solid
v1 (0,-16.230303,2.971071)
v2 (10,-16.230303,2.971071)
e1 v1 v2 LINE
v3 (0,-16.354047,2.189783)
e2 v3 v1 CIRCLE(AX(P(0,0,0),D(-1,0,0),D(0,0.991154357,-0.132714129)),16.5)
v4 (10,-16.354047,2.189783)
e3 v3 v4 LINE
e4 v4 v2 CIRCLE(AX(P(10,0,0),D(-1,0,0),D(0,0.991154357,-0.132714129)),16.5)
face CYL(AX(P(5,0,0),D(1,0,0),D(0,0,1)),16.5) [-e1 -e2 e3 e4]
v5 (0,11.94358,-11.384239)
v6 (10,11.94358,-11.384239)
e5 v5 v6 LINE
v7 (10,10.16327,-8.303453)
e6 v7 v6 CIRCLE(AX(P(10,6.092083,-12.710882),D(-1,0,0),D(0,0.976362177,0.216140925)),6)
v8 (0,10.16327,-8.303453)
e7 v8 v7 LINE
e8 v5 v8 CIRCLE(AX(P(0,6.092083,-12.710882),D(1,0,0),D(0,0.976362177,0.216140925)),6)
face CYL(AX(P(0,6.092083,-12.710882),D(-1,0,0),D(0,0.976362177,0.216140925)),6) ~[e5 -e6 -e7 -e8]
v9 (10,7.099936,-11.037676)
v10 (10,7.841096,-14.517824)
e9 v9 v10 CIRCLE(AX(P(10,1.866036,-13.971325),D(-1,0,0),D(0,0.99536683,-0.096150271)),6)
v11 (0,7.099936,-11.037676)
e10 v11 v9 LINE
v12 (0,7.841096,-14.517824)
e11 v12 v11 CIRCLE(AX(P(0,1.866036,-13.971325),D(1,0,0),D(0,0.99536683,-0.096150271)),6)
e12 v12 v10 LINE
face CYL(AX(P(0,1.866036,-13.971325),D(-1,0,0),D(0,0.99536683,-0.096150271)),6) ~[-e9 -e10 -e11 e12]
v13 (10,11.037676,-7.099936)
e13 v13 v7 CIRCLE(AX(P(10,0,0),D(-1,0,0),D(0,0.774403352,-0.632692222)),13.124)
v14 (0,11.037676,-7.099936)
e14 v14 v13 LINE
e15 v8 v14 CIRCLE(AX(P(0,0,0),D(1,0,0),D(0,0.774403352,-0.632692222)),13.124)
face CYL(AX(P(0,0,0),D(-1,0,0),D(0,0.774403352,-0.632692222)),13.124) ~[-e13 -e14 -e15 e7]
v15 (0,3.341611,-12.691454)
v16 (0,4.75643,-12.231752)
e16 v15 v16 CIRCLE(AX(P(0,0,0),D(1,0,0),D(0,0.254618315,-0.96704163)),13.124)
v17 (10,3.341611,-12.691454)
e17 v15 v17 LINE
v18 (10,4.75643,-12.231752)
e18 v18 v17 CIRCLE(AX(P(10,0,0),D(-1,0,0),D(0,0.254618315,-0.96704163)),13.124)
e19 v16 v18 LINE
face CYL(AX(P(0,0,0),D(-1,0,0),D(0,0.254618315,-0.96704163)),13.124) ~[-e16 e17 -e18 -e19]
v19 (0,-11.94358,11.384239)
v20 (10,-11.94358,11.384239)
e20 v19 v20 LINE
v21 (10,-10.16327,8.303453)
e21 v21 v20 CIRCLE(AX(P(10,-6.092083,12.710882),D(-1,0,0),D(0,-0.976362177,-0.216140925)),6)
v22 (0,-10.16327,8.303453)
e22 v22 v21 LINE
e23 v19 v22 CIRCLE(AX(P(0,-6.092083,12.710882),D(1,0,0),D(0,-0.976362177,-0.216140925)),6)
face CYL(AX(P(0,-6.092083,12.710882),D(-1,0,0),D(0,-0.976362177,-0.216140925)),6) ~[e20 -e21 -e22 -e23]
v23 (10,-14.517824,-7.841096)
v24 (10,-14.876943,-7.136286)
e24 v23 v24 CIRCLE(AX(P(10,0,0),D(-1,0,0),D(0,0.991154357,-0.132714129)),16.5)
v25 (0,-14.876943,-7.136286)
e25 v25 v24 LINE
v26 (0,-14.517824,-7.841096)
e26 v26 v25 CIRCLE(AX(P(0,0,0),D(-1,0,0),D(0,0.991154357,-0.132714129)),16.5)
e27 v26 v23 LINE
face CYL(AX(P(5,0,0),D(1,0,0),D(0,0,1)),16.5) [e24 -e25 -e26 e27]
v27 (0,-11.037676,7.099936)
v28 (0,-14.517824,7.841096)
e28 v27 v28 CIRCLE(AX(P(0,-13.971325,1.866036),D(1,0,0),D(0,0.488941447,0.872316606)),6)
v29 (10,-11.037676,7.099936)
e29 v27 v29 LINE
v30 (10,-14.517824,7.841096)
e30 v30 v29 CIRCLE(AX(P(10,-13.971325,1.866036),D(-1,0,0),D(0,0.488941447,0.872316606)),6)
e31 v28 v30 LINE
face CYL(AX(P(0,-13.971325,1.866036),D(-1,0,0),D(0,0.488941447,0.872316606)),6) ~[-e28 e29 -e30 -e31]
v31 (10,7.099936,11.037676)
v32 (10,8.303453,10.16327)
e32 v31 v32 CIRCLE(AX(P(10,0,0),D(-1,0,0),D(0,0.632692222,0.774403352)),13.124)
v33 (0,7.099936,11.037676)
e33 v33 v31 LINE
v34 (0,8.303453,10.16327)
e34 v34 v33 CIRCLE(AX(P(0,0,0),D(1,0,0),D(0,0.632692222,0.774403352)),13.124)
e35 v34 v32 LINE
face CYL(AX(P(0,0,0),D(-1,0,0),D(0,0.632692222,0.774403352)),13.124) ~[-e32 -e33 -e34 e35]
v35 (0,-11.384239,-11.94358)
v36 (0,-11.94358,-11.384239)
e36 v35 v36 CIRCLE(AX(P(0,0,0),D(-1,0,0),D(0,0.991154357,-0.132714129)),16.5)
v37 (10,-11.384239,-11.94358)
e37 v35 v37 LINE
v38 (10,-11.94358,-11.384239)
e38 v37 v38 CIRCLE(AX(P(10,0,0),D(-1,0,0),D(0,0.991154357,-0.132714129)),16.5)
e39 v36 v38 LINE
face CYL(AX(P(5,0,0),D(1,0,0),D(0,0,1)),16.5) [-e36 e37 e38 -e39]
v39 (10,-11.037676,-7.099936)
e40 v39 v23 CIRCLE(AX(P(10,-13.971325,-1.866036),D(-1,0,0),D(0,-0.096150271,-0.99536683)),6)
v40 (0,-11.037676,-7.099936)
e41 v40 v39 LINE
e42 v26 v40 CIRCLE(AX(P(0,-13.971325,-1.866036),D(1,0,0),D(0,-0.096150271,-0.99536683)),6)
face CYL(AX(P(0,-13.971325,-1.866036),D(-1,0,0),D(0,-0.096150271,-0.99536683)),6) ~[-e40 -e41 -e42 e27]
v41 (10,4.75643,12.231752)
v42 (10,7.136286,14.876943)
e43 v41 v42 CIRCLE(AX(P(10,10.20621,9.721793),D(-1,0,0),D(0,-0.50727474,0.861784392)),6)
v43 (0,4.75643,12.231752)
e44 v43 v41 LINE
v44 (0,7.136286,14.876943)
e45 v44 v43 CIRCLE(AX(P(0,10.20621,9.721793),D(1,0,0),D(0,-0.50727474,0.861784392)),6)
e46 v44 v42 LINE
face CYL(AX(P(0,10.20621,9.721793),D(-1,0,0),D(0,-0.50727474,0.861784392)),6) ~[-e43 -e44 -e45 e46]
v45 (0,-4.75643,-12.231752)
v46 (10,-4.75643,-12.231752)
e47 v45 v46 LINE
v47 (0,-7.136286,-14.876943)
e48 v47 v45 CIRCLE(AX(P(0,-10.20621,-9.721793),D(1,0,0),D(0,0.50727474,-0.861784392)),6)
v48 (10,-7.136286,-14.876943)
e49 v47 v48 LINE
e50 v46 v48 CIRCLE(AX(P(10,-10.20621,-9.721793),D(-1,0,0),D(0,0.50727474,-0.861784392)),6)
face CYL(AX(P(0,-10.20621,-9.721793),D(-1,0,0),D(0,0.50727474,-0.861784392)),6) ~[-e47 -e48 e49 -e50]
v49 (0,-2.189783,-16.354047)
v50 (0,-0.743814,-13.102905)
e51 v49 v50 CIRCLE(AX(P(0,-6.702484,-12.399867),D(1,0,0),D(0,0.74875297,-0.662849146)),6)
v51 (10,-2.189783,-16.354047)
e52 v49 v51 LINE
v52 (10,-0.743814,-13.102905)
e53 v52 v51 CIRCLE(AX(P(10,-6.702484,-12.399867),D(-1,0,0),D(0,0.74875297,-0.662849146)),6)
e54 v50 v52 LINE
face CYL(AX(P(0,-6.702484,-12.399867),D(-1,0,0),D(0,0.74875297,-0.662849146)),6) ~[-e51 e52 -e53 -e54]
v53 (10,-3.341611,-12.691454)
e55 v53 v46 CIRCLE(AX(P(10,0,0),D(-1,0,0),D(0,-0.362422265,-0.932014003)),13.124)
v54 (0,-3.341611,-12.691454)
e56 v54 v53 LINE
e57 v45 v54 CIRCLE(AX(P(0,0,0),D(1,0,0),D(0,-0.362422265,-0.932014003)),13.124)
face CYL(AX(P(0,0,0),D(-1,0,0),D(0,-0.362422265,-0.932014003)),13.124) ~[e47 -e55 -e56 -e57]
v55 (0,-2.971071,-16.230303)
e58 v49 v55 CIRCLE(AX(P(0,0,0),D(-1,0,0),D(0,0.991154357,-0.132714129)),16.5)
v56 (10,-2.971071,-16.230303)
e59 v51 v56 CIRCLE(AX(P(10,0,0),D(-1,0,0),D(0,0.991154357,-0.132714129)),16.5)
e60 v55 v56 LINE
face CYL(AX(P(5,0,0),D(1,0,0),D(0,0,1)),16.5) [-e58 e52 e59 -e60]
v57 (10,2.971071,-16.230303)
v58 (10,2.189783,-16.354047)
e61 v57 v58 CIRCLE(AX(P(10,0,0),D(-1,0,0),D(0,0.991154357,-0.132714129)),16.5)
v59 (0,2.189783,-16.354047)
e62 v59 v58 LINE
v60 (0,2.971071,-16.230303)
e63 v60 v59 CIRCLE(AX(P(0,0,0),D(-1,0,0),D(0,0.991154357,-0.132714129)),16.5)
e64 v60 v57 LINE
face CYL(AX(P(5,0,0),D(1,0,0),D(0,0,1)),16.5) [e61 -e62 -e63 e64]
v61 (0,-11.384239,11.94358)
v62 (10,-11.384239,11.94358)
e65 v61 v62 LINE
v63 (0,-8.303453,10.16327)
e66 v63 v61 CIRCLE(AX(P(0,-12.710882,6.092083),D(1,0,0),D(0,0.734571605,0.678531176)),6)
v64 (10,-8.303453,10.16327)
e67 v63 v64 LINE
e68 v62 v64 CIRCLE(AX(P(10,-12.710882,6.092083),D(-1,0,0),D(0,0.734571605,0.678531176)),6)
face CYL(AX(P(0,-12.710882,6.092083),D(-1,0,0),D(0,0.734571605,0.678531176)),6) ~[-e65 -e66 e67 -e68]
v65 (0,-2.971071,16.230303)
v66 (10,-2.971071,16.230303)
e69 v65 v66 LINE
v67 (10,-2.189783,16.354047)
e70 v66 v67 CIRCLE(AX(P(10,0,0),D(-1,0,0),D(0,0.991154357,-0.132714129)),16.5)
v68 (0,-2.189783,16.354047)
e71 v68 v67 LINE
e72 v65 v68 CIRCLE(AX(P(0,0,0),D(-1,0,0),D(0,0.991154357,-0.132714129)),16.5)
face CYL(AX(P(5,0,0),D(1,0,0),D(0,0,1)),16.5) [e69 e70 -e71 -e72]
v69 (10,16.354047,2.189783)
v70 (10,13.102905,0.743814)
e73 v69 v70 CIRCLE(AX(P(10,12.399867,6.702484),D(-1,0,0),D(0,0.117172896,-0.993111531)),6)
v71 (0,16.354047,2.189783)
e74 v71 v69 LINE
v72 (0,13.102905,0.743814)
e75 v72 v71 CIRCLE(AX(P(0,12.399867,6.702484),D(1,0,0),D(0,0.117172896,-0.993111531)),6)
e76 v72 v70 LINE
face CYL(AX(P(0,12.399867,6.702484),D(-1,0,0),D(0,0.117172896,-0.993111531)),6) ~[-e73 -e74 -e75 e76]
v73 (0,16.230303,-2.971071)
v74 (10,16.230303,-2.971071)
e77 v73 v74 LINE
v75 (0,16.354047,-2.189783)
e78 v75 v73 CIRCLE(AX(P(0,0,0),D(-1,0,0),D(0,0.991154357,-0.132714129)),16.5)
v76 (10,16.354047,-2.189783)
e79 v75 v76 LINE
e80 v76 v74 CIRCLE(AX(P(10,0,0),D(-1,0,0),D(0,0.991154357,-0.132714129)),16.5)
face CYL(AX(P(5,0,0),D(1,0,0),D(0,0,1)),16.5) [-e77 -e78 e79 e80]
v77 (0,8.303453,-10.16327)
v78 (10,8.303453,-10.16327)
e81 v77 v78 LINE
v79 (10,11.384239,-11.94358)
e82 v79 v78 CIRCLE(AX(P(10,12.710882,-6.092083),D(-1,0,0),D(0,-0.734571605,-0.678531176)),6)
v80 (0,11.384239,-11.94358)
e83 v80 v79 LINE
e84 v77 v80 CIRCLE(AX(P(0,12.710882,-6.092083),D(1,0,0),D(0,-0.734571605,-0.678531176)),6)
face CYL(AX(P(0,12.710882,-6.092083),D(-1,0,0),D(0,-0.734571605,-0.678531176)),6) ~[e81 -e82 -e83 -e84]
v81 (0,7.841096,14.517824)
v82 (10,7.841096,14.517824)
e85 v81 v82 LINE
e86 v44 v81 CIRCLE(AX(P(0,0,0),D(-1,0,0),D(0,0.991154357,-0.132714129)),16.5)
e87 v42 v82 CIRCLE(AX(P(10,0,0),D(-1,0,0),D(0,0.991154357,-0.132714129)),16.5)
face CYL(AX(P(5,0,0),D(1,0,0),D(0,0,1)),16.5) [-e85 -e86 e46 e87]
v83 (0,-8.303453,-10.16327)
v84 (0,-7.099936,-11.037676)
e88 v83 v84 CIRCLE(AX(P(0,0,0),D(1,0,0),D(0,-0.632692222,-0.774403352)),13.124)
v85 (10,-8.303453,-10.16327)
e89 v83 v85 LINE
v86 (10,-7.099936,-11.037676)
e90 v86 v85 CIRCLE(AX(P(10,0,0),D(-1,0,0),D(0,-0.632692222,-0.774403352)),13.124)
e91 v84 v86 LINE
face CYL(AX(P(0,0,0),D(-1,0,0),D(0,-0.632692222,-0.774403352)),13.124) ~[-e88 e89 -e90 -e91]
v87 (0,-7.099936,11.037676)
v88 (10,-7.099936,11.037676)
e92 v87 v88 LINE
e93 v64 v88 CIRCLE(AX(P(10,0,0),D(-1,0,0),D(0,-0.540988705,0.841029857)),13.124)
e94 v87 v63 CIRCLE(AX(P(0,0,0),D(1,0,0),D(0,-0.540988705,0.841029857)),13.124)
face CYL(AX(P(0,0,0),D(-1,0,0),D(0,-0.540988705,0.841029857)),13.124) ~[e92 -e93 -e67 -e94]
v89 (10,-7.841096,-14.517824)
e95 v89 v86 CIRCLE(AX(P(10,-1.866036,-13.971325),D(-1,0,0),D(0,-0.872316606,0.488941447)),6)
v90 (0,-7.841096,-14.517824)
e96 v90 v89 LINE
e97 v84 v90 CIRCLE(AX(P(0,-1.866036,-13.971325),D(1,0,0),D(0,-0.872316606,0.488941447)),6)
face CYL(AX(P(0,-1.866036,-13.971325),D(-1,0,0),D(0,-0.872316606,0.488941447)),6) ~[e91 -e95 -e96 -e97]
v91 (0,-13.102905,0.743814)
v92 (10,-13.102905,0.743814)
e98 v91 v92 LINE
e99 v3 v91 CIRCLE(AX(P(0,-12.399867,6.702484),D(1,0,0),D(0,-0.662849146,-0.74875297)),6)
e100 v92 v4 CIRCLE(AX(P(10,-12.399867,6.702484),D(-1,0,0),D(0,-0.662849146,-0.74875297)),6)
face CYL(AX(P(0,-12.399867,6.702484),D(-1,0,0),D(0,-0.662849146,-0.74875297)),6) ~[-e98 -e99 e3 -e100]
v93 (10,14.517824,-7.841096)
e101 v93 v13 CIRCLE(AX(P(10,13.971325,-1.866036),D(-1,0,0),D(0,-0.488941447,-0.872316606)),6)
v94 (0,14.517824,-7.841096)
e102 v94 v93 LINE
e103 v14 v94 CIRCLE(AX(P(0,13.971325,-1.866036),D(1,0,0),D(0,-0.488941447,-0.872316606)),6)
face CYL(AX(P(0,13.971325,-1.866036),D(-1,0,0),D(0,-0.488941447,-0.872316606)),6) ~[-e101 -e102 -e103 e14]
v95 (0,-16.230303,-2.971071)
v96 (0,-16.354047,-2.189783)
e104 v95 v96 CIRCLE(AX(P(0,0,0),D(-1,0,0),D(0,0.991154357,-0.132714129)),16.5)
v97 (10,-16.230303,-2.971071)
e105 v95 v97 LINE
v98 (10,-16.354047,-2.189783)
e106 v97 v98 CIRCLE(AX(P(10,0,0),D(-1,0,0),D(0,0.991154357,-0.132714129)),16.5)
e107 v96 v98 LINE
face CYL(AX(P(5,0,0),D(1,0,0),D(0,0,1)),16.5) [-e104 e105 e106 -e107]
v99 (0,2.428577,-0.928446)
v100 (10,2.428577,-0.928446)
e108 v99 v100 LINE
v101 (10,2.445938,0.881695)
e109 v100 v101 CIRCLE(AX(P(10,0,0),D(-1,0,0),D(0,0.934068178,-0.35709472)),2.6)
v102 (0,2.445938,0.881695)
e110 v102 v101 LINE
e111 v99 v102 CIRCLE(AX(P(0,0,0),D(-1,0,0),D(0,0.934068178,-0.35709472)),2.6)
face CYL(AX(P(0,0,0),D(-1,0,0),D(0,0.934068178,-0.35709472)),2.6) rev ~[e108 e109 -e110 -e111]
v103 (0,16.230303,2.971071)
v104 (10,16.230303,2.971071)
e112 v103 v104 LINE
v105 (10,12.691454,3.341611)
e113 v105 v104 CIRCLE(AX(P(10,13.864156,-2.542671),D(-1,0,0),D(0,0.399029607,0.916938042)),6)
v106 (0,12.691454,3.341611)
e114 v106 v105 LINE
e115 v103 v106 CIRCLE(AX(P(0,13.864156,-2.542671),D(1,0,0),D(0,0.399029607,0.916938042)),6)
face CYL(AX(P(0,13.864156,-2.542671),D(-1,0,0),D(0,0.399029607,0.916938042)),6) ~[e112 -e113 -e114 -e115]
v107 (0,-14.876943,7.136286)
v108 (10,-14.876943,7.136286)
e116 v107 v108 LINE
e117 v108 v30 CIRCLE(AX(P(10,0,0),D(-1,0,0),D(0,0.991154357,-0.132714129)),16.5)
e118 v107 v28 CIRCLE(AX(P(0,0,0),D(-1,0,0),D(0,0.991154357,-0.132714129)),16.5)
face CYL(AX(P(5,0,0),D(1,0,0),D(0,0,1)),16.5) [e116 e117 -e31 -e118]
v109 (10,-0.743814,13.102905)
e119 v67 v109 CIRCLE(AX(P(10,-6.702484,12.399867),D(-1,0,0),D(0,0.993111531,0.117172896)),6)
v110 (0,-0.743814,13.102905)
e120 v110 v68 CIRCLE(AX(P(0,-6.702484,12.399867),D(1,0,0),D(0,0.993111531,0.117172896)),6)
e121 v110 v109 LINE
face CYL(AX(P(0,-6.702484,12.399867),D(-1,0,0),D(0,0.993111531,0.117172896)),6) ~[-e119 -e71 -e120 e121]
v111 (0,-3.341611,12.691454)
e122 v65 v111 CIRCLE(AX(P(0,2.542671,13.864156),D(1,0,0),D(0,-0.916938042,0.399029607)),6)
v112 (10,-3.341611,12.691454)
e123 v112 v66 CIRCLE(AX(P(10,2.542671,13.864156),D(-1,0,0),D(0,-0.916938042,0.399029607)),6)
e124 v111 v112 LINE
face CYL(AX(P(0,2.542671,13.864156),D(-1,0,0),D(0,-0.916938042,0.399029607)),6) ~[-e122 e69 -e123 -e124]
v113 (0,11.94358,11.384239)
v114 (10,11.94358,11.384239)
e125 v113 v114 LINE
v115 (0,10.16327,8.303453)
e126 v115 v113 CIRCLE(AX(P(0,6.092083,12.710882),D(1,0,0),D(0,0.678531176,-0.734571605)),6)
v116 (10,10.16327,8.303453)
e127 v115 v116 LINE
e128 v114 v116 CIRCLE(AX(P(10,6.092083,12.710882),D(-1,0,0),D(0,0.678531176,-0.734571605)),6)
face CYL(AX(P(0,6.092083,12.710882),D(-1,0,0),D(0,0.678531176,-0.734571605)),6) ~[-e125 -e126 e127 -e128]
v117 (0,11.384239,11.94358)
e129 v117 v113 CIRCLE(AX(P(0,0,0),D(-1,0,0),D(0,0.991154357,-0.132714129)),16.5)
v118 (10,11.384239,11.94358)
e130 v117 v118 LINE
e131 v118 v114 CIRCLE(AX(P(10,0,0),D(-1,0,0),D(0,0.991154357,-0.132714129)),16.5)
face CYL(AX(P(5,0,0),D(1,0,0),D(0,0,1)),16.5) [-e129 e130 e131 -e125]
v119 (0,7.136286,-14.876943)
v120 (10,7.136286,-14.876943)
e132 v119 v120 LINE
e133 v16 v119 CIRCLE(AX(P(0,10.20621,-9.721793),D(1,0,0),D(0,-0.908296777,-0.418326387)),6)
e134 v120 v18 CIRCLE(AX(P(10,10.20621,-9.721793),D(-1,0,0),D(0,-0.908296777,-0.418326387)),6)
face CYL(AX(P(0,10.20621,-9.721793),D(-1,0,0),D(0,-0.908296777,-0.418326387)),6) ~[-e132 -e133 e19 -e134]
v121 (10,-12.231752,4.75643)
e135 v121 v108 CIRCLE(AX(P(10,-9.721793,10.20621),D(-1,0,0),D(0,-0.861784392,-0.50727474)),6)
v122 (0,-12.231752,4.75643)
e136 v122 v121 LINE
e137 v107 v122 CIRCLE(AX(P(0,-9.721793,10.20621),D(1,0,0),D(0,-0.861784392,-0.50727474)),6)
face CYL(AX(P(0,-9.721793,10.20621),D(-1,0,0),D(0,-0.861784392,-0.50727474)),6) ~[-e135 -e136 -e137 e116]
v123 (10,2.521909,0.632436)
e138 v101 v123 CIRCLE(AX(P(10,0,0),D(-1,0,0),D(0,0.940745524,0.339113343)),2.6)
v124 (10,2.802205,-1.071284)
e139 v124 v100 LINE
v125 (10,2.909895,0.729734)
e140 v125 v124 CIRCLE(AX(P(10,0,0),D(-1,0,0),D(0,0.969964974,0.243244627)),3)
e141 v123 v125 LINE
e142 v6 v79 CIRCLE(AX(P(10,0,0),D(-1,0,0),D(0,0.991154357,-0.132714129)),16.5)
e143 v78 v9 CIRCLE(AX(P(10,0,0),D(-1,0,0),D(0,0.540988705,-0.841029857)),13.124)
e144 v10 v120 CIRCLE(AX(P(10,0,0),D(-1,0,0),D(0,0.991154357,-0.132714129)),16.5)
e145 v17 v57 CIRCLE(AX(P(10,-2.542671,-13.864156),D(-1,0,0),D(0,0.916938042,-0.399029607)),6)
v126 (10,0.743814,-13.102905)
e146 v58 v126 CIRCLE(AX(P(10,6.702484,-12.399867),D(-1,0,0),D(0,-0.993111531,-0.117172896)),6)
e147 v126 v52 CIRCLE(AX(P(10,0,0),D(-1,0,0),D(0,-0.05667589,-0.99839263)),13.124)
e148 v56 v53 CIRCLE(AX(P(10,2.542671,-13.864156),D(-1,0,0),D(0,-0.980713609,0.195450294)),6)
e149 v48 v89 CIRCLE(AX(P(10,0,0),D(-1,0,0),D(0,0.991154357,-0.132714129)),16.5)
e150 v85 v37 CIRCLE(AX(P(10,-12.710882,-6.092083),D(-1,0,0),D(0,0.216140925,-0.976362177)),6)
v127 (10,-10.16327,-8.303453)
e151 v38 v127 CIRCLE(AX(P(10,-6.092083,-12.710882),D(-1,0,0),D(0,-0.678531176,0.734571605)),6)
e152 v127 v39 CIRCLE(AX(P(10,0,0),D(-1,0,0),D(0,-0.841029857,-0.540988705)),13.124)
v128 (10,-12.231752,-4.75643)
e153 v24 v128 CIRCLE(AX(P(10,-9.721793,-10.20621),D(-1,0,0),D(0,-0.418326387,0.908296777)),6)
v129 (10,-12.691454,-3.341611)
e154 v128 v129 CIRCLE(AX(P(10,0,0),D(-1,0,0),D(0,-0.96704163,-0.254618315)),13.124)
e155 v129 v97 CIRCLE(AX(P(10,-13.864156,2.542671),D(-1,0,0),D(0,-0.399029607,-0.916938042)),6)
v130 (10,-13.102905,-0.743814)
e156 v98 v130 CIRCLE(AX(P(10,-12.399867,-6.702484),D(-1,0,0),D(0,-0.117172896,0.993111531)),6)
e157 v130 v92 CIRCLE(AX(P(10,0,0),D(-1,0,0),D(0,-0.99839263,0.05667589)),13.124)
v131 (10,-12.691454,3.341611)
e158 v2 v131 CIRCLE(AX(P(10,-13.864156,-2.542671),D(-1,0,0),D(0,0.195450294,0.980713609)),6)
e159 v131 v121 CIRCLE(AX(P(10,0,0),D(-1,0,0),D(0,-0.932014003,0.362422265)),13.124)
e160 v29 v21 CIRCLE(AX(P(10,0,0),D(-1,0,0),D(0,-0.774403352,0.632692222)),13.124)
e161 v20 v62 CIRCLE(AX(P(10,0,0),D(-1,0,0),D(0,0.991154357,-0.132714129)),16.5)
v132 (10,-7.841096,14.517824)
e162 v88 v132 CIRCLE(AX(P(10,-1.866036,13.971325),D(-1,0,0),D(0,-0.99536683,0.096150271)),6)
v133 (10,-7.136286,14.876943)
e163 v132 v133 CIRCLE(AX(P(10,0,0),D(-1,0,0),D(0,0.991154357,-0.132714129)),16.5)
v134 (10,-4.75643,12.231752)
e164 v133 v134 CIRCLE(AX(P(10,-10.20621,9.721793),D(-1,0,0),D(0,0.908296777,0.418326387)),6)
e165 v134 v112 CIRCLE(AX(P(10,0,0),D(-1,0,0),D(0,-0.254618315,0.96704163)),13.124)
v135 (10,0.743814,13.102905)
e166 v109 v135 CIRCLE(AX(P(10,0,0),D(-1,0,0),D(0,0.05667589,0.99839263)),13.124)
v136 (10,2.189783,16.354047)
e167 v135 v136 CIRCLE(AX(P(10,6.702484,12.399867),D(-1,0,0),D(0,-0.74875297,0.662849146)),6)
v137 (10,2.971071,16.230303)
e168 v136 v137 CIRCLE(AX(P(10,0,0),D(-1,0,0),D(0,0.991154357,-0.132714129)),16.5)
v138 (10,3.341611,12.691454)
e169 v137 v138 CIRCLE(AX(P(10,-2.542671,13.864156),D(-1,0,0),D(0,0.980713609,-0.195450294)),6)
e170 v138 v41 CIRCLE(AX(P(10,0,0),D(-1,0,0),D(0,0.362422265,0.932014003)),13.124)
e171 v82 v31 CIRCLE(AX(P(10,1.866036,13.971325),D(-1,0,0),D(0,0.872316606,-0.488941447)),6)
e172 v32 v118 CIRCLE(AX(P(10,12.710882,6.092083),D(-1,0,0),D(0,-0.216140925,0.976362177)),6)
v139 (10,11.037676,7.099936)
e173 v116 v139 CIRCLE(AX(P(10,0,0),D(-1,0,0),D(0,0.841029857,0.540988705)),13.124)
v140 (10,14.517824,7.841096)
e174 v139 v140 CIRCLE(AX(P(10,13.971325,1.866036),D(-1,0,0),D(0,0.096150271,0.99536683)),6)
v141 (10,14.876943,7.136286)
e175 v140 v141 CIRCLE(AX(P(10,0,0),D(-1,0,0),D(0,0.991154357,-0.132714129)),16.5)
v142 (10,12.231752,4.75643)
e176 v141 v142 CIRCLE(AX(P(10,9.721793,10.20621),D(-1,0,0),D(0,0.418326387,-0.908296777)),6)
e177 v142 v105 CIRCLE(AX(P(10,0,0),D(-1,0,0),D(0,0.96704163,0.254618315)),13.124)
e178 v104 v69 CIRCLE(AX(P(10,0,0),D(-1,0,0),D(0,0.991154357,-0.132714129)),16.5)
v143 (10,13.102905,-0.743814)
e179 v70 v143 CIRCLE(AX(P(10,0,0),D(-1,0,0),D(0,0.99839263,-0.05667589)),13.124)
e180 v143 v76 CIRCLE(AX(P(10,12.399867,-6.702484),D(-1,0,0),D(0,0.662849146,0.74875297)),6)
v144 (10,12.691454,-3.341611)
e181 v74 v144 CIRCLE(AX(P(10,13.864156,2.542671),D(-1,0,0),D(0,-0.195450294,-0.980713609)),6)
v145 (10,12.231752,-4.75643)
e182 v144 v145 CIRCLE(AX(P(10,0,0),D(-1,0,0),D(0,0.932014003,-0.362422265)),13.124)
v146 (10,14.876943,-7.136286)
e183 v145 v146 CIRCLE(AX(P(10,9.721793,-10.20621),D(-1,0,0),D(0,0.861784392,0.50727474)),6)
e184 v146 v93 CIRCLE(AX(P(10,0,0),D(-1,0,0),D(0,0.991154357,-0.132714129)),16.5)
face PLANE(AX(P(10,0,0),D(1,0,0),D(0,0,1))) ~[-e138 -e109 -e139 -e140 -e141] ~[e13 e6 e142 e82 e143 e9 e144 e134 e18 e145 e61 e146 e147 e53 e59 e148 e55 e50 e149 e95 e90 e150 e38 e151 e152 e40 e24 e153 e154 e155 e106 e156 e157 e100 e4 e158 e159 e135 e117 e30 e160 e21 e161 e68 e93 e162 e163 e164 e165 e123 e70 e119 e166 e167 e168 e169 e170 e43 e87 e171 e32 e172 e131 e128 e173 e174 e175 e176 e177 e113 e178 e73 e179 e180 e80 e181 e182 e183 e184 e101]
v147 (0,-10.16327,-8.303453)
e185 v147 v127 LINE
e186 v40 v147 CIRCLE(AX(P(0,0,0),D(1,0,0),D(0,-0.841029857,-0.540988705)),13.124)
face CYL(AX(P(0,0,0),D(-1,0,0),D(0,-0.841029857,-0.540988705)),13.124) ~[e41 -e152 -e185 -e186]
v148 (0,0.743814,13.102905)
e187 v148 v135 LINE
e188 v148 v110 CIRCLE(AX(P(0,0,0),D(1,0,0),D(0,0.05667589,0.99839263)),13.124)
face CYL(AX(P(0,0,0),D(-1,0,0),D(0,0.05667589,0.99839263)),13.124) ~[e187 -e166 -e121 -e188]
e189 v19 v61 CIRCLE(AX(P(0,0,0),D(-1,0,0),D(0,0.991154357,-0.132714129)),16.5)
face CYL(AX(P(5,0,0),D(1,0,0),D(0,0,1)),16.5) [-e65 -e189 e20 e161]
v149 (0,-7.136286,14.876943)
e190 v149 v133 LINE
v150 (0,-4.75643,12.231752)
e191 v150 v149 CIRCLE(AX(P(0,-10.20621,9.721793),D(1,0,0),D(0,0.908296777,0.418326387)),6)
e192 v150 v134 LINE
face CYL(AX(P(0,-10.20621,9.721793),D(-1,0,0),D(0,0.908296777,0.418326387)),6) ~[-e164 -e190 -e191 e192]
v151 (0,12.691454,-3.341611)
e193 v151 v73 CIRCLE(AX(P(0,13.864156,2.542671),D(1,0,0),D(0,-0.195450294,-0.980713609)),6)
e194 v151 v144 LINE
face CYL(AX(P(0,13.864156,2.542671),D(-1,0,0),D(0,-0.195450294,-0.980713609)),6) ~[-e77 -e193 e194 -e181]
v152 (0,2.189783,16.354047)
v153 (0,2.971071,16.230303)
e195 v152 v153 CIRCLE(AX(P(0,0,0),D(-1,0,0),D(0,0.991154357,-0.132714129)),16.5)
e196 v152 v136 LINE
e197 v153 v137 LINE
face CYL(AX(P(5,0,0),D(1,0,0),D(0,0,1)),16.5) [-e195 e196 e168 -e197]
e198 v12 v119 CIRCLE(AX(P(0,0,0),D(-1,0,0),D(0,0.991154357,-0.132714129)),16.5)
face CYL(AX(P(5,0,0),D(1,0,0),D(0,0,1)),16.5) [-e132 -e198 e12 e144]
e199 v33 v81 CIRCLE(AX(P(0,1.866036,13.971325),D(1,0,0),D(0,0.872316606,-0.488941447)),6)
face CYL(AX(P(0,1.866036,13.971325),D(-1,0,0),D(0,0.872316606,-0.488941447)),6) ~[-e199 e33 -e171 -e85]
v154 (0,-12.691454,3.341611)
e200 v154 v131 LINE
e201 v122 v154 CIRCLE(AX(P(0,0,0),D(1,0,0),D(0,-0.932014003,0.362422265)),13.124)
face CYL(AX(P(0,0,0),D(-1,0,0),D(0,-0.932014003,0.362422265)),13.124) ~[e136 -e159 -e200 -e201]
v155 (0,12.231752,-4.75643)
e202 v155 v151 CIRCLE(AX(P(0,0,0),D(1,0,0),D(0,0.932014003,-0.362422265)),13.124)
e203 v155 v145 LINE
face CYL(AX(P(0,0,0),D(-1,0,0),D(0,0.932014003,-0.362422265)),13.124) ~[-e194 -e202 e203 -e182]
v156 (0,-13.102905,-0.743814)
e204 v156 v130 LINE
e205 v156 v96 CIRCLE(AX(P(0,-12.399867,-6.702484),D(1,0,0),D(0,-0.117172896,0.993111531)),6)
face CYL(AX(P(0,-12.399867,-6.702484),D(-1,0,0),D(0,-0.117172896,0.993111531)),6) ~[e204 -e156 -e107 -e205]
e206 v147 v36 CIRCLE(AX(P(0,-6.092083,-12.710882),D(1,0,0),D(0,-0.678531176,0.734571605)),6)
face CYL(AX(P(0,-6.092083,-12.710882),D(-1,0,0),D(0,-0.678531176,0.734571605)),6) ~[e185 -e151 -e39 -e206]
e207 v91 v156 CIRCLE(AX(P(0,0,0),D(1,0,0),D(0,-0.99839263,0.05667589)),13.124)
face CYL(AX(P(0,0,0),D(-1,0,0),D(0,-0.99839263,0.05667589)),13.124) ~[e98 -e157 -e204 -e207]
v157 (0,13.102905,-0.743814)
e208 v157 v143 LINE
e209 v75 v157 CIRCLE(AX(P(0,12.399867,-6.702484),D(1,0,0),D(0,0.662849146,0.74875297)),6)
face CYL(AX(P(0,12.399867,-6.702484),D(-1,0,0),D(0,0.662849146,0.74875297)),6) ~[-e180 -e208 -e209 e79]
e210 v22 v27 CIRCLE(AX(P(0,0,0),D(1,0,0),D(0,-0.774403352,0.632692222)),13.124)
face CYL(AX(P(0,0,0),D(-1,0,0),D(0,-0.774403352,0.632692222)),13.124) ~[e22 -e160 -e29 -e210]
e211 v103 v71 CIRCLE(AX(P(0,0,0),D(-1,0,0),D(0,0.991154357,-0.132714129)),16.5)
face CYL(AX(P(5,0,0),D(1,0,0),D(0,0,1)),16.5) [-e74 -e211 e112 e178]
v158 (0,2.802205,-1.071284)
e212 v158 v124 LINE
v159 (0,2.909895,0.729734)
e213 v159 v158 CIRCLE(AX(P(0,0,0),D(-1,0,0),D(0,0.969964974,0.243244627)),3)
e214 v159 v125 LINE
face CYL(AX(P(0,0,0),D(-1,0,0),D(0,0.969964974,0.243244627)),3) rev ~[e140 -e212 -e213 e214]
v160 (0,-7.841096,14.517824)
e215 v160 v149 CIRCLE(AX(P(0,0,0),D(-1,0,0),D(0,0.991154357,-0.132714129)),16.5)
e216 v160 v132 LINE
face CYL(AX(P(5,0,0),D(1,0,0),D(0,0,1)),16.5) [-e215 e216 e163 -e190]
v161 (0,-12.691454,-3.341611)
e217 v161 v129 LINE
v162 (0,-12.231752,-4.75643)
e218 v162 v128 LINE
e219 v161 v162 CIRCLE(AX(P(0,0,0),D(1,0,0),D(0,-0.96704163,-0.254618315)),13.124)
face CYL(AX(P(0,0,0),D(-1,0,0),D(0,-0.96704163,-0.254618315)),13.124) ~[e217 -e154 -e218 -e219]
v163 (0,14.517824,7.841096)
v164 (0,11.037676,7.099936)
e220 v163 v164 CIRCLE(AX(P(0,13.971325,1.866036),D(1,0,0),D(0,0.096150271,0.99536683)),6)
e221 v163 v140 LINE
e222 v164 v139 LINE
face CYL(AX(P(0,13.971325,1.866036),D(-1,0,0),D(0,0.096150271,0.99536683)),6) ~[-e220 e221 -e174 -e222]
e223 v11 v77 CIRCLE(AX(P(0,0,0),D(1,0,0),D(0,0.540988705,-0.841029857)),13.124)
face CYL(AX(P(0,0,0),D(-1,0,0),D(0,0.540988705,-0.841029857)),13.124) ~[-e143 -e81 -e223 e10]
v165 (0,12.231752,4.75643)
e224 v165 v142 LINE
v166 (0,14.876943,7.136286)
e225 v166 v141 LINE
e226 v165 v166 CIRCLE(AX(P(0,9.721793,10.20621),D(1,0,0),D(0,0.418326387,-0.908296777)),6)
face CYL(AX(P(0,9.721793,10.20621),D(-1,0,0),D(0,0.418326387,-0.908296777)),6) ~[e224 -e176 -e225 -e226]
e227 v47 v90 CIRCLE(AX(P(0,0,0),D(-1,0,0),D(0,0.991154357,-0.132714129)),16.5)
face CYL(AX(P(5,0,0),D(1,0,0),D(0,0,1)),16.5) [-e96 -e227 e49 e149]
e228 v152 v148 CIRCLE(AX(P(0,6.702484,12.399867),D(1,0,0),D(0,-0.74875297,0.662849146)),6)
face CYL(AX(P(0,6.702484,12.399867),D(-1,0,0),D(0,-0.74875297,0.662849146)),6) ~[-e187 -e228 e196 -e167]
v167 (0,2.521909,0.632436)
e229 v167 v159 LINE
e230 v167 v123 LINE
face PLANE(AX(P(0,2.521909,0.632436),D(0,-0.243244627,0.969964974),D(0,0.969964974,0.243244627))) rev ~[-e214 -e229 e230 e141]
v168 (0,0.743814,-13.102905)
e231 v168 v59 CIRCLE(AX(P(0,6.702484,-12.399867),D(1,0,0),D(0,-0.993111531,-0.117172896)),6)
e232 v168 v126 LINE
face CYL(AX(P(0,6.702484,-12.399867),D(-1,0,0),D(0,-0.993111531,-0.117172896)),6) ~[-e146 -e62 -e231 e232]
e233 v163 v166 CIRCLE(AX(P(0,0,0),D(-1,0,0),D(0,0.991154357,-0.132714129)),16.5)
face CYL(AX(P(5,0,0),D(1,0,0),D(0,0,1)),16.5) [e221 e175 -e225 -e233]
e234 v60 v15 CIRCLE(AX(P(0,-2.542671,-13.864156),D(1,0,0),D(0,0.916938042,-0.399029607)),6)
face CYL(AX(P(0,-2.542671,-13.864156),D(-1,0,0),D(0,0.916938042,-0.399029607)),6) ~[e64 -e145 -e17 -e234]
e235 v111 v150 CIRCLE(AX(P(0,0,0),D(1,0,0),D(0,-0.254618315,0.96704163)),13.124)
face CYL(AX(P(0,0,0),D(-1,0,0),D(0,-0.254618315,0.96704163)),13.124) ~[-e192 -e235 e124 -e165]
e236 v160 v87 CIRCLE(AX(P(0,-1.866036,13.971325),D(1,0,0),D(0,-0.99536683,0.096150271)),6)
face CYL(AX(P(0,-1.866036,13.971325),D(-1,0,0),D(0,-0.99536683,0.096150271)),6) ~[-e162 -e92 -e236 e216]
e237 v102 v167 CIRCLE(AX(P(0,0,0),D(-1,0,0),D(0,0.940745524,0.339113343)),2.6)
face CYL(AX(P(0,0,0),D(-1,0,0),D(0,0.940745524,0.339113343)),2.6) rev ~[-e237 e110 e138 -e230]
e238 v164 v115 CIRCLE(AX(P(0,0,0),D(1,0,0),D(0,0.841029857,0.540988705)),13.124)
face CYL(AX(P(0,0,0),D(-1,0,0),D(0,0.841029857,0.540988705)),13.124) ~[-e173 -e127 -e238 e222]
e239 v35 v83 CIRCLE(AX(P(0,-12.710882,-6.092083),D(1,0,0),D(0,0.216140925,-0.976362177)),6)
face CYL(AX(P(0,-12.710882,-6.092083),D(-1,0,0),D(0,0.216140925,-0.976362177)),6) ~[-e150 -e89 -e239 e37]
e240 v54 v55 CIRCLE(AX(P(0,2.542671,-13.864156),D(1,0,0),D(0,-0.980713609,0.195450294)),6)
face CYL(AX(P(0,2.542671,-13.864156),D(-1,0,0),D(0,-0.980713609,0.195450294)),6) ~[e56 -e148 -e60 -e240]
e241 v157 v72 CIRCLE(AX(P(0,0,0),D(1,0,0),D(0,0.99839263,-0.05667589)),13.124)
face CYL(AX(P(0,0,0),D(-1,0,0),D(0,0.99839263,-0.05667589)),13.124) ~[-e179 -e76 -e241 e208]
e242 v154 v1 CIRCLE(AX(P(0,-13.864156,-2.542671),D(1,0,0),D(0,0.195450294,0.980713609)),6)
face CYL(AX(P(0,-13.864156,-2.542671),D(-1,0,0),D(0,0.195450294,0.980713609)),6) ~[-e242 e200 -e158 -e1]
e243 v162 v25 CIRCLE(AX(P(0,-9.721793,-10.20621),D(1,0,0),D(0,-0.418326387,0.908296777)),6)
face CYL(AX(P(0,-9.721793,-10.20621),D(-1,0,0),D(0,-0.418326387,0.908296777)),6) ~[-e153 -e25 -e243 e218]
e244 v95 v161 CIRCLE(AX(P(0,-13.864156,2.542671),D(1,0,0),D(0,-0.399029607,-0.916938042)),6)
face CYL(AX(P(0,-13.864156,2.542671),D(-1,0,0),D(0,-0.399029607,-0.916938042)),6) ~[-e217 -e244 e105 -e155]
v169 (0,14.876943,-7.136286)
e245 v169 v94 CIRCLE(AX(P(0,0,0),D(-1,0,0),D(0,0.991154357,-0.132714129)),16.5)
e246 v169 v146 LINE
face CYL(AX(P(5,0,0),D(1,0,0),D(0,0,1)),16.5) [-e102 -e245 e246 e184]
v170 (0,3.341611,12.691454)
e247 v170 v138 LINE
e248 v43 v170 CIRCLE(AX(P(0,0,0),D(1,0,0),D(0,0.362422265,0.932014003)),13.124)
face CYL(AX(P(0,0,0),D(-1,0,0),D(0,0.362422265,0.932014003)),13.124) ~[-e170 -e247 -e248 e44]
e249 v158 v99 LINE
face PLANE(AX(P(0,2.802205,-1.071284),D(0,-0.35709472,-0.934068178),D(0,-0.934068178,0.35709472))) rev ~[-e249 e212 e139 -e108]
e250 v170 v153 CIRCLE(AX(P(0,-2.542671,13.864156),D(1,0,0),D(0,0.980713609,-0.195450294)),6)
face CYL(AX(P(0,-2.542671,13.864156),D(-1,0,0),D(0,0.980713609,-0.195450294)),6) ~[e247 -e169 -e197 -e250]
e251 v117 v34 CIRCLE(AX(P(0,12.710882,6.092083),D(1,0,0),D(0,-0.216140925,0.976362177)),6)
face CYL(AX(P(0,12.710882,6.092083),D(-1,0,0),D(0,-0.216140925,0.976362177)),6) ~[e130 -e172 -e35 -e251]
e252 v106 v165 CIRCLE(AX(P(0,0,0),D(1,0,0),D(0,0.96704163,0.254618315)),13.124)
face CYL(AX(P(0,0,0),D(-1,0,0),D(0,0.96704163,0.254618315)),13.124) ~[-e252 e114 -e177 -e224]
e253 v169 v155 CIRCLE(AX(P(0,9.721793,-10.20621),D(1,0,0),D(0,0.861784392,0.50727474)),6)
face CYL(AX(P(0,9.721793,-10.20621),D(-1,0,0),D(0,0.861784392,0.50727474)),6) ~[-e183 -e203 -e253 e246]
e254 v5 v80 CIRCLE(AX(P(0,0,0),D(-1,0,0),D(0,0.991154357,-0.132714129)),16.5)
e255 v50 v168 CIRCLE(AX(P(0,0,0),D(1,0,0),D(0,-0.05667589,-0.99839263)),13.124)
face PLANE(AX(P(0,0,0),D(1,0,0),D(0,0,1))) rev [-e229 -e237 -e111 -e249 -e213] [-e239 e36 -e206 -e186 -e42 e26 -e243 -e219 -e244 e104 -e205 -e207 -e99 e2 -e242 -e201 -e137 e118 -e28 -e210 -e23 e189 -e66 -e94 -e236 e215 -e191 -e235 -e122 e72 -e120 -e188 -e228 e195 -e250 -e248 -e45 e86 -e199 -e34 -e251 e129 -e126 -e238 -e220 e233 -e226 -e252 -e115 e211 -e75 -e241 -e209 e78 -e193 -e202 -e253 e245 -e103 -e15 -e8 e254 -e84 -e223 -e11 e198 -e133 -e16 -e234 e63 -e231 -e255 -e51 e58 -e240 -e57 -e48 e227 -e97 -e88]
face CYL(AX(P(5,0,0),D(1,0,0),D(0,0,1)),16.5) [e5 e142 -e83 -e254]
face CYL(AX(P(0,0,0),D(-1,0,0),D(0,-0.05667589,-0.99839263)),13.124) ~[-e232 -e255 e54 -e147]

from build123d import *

# Parameters (mm, degrees)
BASPROSKE_W        = 10
BASPROSKE_H        = 16.5
TOOTHCUT_DEPTH     = 26.38700455
TEETHCUTS_COUNT    = 20
TEETHCUTS_ANGLE    = 342
BORSKE_R           = 2.5
BORE_DEPTH         = 50.0000508
CUT_EXTRUDE1_DEPTH = 26.197414545


with BuildPart() as part:
    # BasProSke → Base-Revolve (revolve)
    with BuildSketch(Plane(origin=(0, 0, 0), x_dir=(1, 0, 0), z_dir=(0, 1, 0)), mode=Mode.PRIVATE) as base_revolve_sk:
        with Locations((5, 8.25)):
            Rectangle(BASPROSKE_W, BASPROSKE_H)
    revolve(base_revolve_sk.sketch.rotate(Axis((-10, 0, 0), (1, 0, 0)), 180), axis=Axis((-10, 0, 0), (1, 0, 0)))

    # TooCutSke → ToothCut (cut, through all)
    with BuildSketch(Plane(origin=(0, 0, 0), x_dir=(0, 0, -1), z_dir=(1, 0, 0))):
        with BuildLine():
            ThreePointArc((0.74381438, 13.102904875), (0, 13.124), (-0.74381438, 13.102904875))
            ThreePointArc((-0.74381438, 13.102904875), (-1.226473103, 14.852072512), (-2.209965745, 16.376962373))
            ThreePointArc((-2.209965745, 16.376962373), (0, 16.5254), (2.209965745, 16.376962373))
            ThreePointArc((2.209965745, 16.376962373), (1.226473103, 14.852072512), (0.74381438, 13.102904875))
        make_face()
    toothcut = extrude(amount=TOOTHCUT_DEPTH, mode=Mode.SUBTRACT)

    # TeethCuts: ToothCut ×20 about axis
    teethcuts_axis = Axis((-10, 0, 0), (1, 0, 0))
    for i in range(1, TEETHCUTS_COUNT):
        add(toothcut.rotate(teethcuts_axis, i * TEETHCUTS_ANGLE / (TEETHCUTS_COUNT - 1)), mode=Mode.SUBTRACT)

    # BorSke → Bore (cut, symmetric)
    with BuildSketch(Plane(origin=(0, 0, 0), x_dir=(0, 0, -1), z_dir=(1, 0, 0))):
        with Locations(Location((0, 0, 0), (0, 0, 180))):
            Circle(BORSKE_R)
    extrude(amount=BORE_DEPTH, both=True, mode=Mode.SUBTRACT)

    # Sketch1 → Cut-Extrude1 (cut, through all)
    with BuildSketch(Plane.ZY):
        with BuildLine():
            Line((-1.07128416, 2.802204534), (-0.928446272, 2.428577263))
            ThreePointArc((-0.928446272, 2.428577263), (0.024935516, -2.599880424), (0.881694674, 2.445938368))
            ThreePointArc((0.881694674, 2.445938368), (0.758017697, 2.487048285), (0.63243603, 2.521908933))
            Line((0.63243603, 2.521908933), (0.729733881, 2.909894923))
            ThreePointArc((0.729733881, 2.909894923), (-0.179062708, 2.994651323), (-1.07128416, 2.802204534))
        make_face()
    extrude(amount=-CUT_EXTRUDE1_DEPTH, mode=Mode.SUBTRACT)


solid = part.part
